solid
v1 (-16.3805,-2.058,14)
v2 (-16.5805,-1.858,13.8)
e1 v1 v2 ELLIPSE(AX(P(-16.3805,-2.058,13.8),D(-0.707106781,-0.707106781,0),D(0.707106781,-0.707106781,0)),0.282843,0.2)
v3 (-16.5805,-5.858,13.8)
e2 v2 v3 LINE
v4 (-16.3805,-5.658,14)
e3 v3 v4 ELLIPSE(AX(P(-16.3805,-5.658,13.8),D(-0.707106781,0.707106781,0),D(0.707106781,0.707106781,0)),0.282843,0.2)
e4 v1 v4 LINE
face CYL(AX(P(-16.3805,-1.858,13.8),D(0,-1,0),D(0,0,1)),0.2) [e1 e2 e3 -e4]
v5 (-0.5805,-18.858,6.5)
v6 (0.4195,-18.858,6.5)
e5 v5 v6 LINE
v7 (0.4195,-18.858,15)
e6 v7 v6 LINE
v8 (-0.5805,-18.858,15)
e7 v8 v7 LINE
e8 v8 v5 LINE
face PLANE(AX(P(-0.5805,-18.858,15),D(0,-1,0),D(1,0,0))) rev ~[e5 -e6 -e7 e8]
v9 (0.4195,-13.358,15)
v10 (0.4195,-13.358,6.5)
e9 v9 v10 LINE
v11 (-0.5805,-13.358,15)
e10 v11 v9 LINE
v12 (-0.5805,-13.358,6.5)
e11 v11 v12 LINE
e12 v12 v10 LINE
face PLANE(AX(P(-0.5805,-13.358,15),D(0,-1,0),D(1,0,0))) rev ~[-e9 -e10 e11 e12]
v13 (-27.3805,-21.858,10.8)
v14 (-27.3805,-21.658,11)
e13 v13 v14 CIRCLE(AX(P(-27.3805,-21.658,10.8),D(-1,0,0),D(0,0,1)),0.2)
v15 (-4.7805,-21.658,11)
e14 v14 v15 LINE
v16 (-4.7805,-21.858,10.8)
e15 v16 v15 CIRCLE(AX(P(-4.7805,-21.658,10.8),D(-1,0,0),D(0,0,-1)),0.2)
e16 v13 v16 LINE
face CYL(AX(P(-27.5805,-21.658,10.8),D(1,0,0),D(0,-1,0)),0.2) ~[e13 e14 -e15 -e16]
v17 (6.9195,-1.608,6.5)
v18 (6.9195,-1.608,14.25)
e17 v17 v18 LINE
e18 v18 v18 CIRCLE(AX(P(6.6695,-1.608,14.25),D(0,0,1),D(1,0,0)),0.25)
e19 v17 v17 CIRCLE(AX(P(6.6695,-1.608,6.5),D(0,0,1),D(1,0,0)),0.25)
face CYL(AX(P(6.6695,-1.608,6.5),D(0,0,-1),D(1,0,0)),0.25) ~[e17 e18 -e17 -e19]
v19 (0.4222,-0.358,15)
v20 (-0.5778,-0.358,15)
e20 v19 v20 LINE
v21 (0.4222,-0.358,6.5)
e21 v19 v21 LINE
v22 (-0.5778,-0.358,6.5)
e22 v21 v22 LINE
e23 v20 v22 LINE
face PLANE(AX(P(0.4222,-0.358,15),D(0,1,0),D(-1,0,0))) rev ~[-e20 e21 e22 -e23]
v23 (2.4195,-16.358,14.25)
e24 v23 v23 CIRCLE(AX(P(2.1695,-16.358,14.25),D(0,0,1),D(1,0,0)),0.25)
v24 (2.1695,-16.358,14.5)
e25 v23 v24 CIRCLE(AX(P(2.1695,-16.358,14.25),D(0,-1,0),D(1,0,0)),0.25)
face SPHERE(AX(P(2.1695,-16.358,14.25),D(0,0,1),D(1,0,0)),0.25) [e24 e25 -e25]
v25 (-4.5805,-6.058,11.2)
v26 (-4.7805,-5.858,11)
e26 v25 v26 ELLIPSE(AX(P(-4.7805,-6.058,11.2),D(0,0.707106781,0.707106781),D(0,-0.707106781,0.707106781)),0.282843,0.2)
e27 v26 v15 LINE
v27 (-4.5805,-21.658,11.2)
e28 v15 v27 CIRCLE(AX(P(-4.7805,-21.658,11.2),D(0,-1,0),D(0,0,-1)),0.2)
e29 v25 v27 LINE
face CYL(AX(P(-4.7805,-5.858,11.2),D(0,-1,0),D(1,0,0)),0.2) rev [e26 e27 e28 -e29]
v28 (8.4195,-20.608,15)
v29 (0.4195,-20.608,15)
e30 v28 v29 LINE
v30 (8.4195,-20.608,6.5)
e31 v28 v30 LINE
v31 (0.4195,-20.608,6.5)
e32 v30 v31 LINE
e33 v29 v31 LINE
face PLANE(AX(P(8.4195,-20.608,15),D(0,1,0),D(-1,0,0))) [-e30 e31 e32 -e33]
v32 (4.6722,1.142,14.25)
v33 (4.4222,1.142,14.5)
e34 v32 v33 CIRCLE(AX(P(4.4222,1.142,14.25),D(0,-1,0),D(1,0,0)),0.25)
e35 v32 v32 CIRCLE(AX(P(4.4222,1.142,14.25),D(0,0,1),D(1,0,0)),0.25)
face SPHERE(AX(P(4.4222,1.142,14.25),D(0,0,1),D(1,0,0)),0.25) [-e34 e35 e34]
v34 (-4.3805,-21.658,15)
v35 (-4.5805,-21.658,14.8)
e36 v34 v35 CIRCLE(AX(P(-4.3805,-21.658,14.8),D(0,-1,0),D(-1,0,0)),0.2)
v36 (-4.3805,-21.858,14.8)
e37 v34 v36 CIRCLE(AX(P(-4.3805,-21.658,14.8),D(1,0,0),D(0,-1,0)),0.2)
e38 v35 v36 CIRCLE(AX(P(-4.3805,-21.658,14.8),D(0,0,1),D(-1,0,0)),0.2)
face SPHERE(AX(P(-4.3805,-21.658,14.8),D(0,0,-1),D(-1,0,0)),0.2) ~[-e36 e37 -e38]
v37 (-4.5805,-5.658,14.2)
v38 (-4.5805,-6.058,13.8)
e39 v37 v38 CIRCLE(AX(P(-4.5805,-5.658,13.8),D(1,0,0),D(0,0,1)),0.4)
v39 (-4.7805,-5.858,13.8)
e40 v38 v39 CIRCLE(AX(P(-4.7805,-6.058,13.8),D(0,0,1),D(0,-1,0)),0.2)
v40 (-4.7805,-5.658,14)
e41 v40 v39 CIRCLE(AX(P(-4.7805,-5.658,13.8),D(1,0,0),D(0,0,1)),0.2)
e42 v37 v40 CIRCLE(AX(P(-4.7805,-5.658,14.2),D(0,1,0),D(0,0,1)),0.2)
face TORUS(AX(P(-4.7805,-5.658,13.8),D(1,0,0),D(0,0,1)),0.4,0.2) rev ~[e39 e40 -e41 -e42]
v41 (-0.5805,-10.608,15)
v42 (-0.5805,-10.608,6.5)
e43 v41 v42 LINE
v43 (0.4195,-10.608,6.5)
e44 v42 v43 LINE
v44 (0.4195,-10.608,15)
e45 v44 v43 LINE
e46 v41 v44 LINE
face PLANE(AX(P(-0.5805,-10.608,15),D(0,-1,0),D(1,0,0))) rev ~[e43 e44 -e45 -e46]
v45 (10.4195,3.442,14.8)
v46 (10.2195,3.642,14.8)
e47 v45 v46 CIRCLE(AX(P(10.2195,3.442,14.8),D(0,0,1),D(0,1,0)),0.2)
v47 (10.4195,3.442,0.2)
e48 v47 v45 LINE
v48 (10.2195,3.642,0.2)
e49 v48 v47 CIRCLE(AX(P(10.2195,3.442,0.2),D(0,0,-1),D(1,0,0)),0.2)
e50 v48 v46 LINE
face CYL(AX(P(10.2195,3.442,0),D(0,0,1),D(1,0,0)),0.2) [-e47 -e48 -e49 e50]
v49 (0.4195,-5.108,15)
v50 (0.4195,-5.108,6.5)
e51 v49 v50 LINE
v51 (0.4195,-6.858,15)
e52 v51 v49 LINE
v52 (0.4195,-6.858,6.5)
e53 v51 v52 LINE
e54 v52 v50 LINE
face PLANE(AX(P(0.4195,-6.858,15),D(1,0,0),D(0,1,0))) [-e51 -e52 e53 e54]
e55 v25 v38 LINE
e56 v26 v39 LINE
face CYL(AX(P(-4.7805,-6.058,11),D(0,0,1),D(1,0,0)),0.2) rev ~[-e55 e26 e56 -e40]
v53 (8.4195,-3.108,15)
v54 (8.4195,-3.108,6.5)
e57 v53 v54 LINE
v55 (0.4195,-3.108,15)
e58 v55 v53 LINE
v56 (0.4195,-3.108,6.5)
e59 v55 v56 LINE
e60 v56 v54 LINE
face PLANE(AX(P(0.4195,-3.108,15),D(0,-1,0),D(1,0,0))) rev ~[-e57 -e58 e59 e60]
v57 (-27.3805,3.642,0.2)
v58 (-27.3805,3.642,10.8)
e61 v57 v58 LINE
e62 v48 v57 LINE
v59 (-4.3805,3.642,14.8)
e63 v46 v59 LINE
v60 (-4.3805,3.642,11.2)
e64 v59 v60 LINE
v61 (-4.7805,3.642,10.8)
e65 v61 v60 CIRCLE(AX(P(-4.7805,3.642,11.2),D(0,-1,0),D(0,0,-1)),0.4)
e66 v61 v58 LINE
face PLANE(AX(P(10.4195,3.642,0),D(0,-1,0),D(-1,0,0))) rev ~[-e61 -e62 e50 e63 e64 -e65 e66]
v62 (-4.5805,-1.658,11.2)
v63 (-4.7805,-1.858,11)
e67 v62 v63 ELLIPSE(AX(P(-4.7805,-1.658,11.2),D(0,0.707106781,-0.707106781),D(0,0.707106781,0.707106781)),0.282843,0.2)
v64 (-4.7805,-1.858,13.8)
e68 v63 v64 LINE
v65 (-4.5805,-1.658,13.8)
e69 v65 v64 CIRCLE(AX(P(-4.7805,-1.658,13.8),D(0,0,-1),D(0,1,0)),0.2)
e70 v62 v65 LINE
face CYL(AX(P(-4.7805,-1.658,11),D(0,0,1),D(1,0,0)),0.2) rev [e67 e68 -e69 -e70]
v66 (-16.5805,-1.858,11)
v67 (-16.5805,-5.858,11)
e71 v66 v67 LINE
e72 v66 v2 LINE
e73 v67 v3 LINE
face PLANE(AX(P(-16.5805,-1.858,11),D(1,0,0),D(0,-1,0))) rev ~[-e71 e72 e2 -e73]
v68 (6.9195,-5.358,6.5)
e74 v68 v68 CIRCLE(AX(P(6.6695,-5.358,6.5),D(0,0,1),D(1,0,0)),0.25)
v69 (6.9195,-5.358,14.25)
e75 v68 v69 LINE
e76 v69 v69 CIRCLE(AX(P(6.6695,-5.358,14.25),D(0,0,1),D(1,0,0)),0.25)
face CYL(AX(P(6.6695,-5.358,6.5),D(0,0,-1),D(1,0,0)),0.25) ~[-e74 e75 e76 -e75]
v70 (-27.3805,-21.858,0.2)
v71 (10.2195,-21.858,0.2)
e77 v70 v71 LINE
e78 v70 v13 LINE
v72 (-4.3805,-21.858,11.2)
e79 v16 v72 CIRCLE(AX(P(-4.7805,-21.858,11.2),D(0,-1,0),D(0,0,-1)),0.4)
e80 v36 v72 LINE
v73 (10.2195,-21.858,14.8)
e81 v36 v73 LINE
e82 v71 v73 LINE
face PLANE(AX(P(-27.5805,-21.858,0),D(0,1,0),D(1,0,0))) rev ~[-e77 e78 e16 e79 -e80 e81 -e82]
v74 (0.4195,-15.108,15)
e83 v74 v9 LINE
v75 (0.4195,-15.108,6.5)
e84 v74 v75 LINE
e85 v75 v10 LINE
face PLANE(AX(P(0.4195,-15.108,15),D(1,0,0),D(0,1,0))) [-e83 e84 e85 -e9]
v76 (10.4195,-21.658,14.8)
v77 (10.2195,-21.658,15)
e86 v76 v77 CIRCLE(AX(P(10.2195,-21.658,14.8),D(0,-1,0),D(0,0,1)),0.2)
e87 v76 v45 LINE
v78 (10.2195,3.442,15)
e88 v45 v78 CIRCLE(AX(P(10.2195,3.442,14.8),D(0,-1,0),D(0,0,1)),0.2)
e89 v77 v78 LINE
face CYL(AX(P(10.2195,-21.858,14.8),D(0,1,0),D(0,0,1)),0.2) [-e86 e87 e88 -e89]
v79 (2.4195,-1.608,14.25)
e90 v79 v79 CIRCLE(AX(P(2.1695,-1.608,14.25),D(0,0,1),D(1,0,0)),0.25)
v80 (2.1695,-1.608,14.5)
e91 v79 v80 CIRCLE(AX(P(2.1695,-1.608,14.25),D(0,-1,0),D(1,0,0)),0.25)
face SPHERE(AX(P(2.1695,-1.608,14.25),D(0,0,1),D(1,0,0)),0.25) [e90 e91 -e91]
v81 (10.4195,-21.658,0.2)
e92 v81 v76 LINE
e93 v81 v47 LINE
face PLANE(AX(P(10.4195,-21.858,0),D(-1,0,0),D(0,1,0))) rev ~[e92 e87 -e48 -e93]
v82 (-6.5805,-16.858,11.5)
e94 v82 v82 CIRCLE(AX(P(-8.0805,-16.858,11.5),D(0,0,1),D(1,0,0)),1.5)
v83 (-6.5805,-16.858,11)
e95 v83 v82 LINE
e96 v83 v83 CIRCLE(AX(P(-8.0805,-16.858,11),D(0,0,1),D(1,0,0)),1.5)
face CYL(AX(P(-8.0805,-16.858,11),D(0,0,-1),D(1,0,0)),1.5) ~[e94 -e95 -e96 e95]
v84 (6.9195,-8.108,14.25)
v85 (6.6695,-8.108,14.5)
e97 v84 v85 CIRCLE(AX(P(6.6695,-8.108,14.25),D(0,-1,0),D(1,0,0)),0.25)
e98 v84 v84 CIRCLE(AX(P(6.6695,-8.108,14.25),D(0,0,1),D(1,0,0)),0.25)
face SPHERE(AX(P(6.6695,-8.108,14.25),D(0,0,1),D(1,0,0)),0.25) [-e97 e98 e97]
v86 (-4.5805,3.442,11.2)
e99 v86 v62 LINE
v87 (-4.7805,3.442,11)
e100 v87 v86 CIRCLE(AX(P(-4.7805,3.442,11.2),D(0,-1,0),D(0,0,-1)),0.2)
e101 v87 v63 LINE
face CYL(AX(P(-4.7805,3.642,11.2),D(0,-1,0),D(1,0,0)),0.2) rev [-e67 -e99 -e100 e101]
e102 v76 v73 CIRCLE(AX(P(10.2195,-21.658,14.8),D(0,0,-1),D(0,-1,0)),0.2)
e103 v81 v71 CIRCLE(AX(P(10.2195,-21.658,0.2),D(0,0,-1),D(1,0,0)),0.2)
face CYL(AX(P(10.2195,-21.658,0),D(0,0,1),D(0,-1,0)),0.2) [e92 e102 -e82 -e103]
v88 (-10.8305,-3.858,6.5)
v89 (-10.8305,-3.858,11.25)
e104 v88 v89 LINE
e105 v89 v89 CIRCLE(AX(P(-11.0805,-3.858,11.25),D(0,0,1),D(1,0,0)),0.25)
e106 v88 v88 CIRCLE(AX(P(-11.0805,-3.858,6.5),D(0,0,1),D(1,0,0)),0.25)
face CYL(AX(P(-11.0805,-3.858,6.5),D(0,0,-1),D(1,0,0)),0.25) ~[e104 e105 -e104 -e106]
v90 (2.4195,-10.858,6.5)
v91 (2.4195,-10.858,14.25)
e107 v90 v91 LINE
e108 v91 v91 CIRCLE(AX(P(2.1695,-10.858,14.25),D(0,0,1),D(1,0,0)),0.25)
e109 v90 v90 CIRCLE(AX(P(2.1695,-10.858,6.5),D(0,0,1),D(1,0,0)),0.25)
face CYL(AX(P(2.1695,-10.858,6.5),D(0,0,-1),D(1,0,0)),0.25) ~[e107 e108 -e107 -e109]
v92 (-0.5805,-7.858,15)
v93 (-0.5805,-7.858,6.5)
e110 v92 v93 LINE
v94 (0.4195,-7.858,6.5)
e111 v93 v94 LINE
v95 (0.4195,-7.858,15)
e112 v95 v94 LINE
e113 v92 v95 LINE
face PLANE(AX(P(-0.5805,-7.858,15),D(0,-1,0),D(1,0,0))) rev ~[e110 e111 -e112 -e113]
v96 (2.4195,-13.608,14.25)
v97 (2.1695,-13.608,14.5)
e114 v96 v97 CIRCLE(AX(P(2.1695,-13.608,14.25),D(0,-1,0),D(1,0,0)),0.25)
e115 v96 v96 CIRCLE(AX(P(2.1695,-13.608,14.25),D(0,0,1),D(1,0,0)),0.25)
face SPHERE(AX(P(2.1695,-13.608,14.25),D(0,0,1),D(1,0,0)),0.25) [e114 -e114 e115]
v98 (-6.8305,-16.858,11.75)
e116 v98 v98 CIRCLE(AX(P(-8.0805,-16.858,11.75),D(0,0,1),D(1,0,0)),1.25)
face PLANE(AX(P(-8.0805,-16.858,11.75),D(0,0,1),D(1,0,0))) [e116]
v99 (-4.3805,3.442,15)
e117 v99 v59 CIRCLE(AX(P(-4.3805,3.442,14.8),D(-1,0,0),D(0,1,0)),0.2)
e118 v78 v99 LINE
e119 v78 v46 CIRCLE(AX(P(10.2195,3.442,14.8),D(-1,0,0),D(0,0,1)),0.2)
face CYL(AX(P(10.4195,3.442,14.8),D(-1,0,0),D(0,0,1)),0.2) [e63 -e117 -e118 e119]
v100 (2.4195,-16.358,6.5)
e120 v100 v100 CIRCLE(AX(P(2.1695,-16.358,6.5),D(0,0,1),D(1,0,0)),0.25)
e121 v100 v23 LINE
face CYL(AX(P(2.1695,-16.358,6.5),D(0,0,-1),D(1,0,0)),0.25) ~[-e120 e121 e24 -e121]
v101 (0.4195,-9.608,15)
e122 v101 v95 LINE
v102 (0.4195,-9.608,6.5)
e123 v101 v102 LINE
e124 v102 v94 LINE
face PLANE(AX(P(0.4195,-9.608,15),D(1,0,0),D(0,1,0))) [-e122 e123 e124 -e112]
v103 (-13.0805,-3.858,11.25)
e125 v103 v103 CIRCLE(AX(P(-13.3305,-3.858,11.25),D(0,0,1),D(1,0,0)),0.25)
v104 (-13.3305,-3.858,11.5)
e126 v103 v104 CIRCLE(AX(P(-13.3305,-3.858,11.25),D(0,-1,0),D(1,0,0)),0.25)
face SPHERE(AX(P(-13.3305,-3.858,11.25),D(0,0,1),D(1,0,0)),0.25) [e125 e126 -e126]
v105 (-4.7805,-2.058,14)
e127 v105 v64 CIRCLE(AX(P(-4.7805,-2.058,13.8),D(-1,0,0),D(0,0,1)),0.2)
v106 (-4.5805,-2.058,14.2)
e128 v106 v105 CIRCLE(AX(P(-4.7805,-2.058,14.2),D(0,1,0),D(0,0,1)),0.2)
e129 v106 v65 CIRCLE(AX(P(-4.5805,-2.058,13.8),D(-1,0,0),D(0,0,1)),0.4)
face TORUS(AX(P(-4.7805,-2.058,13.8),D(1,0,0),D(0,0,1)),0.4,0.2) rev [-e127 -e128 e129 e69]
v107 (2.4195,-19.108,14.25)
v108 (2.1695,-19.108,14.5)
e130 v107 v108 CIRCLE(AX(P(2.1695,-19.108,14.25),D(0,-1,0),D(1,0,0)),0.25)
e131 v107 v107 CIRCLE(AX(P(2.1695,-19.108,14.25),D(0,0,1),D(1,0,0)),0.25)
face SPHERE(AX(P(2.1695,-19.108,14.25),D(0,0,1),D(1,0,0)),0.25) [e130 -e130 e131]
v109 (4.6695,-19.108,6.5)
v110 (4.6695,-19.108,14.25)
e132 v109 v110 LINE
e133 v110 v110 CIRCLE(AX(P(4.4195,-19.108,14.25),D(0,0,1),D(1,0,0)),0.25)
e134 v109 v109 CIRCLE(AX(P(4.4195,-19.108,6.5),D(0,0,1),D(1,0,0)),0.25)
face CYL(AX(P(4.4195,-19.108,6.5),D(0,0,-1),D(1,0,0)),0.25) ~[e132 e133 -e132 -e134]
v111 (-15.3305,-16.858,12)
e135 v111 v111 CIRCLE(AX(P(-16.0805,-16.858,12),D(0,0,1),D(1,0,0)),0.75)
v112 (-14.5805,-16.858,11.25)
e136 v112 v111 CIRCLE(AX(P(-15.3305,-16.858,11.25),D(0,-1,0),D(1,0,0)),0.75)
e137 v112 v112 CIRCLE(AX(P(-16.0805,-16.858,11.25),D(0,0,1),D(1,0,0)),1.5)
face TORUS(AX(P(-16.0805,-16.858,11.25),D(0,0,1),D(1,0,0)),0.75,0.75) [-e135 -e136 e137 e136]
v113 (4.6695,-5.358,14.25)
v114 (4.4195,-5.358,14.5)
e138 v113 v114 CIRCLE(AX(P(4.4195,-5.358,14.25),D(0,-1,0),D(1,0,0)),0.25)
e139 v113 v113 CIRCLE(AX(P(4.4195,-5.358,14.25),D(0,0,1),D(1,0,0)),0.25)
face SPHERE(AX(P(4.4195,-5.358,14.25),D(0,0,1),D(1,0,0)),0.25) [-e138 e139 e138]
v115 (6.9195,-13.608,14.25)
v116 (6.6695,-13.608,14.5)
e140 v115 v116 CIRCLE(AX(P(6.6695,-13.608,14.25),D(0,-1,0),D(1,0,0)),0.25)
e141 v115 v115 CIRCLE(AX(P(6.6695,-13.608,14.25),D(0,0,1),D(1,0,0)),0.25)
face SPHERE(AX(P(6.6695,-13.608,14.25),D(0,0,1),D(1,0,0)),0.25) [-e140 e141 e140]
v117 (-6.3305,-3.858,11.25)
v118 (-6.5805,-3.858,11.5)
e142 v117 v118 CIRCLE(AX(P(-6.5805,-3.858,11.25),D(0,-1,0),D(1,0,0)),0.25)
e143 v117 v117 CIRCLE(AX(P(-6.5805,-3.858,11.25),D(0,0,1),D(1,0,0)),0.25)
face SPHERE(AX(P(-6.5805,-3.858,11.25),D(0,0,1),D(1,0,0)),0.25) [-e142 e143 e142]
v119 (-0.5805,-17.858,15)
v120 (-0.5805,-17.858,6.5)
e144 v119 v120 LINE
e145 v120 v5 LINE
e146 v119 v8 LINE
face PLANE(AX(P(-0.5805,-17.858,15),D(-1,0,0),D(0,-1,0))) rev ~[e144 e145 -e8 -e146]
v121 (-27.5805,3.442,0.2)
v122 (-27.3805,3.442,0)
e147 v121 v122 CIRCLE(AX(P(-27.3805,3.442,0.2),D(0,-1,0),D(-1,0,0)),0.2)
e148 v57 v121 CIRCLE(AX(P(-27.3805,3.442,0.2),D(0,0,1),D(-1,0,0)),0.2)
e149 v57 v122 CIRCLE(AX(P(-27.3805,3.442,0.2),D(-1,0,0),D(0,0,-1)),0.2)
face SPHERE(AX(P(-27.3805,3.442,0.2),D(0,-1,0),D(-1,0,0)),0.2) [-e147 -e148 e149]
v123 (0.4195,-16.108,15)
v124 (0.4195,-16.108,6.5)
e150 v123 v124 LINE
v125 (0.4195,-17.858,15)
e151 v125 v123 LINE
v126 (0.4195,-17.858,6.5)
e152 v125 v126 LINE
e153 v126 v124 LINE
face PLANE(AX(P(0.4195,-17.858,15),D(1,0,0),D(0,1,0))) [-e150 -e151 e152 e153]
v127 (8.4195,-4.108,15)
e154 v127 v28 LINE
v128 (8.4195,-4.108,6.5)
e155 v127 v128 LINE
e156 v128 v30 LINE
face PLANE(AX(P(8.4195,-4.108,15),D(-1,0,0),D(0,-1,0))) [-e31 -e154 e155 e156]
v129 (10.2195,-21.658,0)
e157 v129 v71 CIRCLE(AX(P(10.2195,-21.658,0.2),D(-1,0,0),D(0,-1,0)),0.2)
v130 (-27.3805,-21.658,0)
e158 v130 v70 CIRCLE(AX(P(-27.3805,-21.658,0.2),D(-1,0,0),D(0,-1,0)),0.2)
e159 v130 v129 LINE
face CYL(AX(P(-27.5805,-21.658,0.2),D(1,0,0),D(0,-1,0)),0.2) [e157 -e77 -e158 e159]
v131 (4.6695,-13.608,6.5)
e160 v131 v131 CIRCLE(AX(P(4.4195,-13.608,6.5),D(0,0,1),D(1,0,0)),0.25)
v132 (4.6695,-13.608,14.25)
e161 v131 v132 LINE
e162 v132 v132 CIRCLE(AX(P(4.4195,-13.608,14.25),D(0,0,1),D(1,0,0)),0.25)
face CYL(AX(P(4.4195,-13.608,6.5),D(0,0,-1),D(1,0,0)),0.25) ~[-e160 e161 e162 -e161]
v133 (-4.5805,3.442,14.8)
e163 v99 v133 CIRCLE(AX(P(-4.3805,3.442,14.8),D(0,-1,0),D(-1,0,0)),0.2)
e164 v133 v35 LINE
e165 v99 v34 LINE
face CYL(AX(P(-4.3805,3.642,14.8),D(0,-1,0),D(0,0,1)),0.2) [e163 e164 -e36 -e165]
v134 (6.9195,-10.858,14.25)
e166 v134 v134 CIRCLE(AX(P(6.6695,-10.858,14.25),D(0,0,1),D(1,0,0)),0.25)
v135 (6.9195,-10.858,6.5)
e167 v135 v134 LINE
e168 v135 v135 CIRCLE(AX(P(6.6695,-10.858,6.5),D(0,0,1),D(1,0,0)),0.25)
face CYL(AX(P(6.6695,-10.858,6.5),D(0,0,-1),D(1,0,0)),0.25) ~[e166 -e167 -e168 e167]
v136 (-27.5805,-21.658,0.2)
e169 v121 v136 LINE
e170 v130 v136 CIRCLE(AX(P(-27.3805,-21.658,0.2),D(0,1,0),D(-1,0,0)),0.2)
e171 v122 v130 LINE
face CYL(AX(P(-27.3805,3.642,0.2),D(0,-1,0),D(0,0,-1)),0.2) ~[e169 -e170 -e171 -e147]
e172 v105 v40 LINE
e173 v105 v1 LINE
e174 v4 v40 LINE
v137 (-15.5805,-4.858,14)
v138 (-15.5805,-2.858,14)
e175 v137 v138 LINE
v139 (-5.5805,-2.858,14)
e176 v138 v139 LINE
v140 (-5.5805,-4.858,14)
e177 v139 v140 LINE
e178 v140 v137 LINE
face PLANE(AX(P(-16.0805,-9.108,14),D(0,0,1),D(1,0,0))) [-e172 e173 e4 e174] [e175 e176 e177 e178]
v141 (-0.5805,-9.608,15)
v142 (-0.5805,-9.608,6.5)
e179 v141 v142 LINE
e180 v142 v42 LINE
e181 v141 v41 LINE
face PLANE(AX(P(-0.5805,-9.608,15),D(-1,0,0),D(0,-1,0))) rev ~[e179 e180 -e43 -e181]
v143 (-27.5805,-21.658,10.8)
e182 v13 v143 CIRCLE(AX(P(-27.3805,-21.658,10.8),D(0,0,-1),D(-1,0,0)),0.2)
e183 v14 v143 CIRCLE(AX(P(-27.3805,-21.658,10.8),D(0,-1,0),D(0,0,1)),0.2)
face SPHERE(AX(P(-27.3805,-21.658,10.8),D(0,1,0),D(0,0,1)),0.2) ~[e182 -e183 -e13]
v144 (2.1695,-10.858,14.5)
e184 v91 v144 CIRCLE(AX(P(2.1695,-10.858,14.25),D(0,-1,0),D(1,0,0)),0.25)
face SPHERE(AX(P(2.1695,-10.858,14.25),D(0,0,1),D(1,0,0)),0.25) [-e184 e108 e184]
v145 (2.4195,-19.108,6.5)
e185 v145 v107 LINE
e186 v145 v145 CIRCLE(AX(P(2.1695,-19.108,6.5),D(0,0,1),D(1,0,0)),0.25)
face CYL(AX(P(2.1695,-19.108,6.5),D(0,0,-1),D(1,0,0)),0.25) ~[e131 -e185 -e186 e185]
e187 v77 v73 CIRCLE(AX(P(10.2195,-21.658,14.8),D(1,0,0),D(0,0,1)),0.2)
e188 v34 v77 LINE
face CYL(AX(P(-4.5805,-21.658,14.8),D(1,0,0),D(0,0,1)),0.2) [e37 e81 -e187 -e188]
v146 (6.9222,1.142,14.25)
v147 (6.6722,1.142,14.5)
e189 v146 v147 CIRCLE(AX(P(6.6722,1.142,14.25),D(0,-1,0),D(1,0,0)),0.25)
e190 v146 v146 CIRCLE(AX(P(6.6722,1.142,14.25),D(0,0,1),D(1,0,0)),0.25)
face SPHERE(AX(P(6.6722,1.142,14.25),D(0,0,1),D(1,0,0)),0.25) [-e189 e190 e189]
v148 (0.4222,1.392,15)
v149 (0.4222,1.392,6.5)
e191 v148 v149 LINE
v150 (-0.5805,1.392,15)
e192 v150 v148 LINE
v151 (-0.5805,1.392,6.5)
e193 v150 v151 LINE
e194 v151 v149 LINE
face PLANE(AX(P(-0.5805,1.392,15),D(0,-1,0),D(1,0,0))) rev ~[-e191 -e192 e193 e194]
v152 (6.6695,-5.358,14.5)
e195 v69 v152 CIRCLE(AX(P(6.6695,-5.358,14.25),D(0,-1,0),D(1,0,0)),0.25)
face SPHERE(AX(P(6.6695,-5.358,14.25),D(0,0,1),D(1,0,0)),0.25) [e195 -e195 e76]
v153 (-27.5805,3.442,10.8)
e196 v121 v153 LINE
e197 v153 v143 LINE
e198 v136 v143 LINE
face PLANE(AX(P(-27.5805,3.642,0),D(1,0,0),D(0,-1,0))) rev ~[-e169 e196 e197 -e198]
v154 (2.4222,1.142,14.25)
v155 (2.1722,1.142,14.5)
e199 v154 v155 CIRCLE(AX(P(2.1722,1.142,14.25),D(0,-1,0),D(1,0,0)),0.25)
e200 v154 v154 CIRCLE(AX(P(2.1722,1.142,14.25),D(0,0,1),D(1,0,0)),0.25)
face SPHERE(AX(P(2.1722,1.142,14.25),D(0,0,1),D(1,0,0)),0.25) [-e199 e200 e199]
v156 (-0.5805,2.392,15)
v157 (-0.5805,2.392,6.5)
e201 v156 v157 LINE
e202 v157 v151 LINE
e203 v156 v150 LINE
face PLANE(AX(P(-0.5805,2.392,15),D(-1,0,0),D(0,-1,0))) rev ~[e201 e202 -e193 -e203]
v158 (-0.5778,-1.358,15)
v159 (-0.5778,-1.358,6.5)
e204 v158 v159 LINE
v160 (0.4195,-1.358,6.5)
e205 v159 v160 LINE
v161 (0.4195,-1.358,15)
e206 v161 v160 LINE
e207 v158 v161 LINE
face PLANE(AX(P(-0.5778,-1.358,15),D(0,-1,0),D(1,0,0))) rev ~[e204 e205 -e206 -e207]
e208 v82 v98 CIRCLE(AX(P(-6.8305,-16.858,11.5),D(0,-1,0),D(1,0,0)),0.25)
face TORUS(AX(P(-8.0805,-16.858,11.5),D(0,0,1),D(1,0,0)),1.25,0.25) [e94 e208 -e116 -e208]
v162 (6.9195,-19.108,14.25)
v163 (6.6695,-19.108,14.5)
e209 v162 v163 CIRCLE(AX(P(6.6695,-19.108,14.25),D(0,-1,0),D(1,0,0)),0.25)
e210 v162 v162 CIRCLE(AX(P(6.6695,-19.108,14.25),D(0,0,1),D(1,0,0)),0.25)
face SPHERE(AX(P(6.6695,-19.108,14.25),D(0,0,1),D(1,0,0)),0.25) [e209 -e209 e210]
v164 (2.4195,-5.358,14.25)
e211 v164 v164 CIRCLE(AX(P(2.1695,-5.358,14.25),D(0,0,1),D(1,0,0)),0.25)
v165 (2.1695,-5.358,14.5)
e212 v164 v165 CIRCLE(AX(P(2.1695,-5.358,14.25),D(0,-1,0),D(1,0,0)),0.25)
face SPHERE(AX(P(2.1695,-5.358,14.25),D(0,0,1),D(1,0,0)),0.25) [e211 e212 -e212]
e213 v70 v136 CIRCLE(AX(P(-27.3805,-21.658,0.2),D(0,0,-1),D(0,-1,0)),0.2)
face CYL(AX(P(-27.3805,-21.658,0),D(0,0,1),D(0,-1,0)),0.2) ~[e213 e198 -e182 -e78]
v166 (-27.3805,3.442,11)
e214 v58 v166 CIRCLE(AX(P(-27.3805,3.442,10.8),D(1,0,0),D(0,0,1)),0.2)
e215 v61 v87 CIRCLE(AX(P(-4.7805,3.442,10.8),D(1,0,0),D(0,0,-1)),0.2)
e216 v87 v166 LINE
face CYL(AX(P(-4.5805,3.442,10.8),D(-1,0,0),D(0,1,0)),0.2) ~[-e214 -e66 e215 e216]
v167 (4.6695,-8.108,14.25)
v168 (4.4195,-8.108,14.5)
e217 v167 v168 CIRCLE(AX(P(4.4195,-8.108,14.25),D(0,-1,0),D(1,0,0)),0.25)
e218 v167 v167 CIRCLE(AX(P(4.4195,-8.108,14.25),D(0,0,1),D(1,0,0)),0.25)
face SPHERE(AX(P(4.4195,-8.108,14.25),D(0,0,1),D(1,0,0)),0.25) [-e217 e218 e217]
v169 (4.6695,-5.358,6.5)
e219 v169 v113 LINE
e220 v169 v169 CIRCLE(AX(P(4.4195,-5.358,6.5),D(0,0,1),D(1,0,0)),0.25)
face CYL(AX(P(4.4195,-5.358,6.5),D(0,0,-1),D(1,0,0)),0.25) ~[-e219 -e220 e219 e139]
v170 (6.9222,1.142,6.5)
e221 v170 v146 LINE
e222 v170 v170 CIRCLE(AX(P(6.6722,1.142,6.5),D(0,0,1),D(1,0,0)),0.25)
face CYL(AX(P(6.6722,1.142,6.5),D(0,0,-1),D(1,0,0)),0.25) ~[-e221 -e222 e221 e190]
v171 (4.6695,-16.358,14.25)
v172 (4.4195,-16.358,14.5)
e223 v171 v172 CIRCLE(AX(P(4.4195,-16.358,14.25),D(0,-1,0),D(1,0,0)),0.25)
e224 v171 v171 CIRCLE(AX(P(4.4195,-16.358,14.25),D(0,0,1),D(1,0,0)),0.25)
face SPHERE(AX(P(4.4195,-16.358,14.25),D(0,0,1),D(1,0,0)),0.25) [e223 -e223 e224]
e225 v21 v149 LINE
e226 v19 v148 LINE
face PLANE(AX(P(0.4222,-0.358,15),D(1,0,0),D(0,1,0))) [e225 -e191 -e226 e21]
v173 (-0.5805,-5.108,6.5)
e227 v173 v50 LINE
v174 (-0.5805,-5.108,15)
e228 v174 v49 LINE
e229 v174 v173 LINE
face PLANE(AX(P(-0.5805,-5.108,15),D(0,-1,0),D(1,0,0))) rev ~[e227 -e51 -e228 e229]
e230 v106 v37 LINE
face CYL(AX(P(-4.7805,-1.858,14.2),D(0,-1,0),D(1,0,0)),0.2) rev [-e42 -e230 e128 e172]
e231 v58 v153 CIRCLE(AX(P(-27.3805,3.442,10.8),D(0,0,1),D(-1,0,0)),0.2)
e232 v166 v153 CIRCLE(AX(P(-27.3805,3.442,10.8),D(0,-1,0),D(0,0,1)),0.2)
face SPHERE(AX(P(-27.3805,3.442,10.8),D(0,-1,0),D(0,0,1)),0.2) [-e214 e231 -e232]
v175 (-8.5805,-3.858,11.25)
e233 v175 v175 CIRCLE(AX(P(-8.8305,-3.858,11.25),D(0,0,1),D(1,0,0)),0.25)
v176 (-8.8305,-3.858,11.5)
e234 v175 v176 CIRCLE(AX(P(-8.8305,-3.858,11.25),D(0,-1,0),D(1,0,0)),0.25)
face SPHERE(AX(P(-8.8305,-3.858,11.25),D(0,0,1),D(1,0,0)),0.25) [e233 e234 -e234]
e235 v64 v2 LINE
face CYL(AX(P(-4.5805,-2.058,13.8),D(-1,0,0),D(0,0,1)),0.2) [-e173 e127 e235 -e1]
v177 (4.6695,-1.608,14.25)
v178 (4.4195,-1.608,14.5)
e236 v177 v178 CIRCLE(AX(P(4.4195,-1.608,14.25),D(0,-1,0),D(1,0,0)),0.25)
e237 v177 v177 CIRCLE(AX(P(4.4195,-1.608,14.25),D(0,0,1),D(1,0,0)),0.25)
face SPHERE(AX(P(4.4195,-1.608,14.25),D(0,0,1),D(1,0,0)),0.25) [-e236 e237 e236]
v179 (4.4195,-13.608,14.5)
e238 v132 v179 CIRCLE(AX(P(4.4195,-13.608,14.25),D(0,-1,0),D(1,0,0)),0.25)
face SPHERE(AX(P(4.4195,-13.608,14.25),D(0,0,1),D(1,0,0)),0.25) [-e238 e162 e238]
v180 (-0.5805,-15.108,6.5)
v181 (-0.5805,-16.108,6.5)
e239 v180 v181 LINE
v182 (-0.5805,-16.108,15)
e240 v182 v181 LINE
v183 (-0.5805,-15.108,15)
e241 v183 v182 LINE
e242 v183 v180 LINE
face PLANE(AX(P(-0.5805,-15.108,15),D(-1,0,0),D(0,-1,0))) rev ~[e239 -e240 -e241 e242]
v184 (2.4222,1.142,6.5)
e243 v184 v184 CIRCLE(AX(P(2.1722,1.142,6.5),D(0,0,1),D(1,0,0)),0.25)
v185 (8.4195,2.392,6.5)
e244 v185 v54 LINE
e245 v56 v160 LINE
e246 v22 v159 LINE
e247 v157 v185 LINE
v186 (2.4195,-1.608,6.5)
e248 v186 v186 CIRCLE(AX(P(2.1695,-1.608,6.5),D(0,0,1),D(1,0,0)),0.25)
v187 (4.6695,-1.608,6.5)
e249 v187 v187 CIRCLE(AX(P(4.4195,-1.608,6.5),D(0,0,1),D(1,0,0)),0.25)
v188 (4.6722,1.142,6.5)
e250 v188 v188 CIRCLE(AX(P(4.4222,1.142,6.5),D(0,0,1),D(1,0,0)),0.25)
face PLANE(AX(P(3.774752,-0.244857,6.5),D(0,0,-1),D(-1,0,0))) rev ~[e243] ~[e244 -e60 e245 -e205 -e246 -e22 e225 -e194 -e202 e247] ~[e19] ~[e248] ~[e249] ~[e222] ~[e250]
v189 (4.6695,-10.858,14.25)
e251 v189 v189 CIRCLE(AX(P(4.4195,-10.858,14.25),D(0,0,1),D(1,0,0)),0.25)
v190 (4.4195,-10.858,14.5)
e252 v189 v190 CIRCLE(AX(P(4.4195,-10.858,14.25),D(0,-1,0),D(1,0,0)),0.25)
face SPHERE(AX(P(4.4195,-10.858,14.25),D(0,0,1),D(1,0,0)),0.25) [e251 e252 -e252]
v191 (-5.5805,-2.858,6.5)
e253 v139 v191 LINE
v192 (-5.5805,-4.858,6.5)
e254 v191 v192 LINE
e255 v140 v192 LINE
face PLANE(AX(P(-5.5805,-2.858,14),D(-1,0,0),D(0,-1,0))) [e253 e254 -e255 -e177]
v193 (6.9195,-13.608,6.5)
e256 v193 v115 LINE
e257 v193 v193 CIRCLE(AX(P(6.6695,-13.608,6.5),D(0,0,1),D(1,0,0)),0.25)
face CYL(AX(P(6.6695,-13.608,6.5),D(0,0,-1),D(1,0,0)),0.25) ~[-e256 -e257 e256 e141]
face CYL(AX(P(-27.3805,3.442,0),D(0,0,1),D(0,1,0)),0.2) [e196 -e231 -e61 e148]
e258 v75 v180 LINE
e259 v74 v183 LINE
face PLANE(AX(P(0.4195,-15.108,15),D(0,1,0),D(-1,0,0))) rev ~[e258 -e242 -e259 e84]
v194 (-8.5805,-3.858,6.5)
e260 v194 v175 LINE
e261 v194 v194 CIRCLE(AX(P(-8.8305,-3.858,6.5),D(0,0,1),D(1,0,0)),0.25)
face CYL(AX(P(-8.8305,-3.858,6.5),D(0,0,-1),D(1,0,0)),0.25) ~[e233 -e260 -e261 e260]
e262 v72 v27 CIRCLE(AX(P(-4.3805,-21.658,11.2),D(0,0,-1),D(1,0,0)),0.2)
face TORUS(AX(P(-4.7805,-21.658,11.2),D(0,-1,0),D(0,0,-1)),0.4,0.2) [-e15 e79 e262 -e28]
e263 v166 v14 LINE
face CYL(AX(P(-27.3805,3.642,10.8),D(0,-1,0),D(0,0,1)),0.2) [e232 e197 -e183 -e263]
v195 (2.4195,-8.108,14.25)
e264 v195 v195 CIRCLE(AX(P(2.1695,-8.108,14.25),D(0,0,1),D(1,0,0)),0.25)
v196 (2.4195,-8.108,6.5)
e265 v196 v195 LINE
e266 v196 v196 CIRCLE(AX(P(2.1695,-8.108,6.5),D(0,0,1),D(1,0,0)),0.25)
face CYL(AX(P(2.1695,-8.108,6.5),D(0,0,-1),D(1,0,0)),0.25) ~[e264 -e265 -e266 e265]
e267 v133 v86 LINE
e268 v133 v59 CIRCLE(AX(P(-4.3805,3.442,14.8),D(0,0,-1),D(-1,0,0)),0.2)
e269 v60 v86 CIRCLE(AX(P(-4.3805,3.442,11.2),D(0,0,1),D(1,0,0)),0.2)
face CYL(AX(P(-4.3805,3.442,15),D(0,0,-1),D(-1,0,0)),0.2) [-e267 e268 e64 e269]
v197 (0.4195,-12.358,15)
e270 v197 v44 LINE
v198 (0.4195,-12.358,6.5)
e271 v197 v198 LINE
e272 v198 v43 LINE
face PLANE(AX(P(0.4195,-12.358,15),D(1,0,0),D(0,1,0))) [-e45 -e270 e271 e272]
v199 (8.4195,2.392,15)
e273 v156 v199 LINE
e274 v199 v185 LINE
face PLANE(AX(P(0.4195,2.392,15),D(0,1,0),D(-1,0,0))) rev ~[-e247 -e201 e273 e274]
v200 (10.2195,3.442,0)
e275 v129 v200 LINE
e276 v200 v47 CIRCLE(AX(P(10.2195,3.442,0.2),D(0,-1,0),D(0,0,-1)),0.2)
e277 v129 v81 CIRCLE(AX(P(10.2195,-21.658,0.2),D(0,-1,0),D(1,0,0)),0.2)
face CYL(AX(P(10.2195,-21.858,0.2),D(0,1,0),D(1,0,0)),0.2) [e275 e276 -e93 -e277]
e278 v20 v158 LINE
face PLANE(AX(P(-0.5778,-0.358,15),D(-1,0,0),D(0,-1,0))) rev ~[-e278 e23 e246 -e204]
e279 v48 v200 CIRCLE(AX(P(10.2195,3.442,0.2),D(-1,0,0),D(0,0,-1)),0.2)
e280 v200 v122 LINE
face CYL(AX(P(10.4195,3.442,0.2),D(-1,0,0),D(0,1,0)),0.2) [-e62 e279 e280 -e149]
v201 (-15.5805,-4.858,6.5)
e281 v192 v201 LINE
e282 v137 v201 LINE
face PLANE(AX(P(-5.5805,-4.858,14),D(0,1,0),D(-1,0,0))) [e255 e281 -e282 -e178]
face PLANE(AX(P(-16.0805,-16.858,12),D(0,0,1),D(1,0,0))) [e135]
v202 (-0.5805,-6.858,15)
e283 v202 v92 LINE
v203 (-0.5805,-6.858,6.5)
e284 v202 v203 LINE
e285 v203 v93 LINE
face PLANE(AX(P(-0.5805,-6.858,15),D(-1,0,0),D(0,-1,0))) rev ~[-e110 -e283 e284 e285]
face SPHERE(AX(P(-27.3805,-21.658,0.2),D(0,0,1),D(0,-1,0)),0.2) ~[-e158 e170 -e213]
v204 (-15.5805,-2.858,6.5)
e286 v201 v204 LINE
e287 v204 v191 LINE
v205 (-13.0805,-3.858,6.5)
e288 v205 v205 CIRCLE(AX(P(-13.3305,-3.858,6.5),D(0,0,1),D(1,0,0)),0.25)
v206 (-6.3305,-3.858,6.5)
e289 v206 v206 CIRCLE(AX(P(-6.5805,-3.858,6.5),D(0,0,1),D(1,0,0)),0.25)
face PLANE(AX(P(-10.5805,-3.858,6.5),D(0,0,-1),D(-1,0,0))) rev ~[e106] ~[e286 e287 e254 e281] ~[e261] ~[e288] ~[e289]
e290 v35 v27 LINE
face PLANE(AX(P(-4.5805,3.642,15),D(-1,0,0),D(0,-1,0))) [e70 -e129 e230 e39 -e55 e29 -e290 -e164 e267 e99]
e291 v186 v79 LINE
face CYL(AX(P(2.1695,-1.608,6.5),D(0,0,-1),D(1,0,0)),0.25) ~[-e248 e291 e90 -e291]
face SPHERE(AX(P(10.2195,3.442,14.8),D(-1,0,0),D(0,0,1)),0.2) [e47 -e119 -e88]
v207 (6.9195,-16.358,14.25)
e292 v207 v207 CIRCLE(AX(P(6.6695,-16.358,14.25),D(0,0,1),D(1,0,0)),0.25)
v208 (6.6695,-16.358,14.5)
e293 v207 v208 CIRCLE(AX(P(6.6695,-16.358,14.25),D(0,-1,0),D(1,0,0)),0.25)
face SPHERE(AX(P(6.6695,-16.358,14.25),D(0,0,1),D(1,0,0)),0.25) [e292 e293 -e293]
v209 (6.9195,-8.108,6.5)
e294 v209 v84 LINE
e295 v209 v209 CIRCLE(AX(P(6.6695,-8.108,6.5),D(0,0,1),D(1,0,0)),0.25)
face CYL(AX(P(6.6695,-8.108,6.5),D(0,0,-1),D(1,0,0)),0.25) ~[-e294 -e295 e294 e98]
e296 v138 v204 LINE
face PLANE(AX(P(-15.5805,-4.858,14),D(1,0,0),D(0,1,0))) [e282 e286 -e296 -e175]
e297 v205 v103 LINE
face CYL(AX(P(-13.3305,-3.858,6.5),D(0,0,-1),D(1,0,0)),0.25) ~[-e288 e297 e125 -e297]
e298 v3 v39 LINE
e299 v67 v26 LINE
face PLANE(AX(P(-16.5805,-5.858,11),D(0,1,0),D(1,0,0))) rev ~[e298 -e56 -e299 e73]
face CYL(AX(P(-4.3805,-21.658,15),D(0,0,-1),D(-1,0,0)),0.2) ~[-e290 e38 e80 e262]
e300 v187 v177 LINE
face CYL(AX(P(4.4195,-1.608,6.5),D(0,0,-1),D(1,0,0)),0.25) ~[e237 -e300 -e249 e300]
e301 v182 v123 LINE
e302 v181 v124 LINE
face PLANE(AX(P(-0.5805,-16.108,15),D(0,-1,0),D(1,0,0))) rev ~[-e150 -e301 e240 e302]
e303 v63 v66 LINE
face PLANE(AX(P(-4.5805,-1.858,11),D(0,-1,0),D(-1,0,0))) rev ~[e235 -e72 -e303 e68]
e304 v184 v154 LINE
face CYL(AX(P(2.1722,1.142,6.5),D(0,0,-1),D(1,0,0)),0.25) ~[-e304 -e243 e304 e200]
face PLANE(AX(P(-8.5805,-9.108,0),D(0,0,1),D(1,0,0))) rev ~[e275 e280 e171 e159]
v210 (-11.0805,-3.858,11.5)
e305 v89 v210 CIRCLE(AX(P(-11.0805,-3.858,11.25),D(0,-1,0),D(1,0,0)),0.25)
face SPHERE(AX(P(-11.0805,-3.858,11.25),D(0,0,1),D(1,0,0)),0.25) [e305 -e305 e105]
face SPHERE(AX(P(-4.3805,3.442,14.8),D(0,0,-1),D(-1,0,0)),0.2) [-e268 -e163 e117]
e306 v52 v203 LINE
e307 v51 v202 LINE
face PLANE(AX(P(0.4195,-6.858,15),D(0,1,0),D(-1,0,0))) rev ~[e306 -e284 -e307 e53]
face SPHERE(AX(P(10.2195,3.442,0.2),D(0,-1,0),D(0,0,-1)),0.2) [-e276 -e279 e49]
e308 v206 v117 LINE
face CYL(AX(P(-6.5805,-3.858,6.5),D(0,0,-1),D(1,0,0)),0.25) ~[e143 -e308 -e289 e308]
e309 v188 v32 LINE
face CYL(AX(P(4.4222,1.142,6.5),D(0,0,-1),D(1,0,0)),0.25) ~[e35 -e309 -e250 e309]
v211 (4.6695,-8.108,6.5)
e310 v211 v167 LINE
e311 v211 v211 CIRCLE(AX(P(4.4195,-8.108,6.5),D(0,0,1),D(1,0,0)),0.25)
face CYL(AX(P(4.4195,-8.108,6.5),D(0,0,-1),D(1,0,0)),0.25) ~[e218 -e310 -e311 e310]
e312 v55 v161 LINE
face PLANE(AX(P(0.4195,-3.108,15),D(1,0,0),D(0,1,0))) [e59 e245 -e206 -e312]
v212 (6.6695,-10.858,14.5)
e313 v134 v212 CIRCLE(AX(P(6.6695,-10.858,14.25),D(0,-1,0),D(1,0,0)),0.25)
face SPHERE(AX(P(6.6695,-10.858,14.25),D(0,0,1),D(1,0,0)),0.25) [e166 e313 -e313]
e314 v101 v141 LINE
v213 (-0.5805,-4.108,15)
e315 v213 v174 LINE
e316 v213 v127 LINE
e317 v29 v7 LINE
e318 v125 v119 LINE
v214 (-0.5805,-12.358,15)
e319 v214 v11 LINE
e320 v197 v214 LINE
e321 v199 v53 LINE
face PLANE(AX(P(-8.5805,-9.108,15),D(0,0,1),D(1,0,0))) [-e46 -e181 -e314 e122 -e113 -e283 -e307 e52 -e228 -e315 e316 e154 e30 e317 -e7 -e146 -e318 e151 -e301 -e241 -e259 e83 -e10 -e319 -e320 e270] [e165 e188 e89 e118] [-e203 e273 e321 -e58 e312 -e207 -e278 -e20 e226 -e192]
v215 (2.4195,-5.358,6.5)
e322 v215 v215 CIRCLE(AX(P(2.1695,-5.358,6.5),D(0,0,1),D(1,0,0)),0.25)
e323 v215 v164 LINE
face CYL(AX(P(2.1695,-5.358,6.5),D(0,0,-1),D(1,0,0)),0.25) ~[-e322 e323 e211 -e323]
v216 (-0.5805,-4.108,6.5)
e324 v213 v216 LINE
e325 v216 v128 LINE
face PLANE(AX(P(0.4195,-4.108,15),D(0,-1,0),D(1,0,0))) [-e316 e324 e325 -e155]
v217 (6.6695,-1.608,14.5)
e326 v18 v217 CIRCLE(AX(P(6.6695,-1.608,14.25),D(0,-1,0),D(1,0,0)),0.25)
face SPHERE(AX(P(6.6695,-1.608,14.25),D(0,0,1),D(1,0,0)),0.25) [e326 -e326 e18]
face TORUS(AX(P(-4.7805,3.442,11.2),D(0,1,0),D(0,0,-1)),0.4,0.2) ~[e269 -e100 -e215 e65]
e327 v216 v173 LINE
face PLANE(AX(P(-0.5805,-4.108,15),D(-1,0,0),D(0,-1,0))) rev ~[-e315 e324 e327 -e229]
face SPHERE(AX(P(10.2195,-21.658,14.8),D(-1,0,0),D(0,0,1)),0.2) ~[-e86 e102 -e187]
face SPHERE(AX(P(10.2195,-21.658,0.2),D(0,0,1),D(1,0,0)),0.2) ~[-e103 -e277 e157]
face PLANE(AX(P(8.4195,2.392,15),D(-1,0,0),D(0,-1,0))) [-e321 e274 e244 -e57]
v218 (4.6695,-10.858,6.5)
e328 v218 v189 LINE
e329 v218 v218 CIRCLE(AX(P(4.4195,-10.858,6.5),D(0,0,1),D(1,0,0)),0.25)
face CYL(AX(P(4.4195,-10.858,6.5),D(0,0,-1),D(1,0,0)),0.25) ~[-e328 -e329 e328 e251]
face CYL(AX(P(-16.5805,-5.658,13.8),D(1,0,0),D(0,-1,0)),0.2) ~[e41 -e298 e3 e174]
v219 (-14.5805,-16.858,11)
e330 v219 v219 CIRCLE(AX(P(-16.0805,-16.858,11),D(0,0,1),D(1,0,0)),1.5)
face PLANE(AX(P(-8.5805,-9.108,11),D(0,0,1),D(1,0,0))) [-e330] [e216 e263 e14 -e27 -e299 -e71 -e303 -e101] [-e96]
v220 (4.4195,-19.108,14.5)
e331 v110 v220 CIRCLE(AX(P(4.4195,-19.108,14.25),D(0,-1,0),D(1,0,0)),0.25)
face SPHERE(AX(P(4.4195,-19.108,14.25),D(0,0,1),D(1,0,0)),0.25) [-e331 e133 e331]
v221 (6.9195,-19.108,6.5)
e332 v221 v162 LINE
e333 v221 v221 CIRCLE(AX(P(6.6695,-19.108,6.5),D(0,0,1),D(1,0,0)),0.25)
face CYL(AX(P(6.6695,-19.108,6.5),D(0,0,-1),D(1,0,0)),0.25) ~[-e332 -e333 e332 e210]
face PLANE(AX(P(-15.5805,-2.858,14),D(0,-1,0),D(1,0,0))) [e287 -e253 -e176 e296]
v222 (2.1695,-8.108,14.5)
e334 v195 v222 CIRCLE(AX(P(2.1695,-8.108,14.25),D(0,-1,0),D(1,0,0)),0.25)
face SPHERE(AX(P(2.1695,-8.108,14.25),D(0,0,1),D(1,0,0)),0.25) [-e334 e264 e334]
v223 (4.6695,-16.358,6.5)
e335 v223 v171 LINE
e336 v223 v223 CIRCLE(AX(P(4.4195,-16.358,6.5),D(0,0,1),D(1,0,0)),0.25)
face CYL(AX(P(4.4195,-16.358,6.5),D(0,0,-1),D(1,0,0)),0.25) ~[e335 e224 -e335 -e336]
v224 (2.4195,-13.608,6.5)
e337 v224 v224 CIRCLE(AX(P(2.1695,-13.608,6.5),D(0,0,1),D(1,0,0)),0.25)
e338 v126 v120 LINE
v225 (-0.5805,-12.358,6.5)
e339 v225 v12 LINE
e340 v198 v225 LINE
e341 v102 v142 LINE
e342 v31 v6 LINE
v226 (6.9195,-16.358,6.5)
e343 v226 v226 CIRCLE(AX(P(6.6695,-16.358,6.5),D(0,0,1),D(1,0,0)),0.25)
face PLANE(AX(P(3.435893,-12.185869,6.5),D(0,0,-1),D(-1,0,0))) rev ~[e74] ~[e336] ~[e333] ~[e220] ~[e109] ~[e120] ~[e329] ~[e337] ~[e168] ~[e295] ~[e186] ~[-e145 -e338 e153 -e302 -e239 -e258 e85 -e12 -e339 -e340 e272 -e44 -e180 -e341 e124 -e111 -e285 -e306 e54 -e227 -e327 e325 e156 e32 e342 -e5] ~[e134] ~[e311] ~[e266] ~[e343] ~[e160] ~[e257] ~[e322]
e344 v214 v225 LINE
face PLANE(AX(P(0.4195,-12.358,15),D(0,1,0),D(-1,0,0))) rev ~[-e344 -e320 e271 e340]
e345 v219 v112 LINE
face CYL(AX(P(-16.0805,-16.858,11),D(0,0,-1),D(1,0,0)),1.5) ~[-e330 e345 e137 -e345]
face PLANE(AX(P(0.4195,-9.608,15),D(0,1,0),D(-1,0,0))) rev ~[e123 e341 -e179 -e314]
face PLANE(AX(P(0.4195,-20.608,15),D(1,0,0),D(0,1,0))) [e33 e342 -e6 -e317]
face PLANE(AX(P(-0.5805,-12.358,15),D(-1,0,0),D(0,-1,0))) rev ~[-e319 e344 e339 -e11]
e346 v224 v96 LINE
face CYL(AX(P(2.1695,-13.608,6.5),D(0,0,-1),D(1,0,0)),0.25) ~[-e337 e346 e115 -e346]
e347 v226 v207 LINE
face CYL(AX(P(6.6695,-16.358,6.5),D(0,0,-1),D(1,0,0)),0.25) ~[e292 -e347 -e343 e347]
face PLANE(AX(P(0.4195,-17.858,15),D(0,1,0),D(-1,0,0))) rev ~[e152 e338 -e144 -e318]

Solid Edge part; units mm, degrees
sketch "Sketch1" plane through (0, 0, 0) normal (0, 0, 1) x (1, 0, 0)
  line L0 (-27.5805, -21.858) -> (10.4195, -21.858)
  line L1 (10.4195, -21.858) -> (10.4195, 3.642)
  line L2 (10.4195, 3.642) -> (-27.5805, 3.642)
  line L3 (-27.5805, 3.642) -> (-27.5805, -21.858)
  dimension "D1" = 38
  dimension "D2" = 25.5
extrude "Protrusion1" add sketch "Sketch1" along normal blind 15
sketch "Sketch2" plane through (-8.5805, -9.108, 15) normal (0, 0, 1) x (1, 0, 0)
  line L0 (4, 12.75) -> (4, -12.75)
  dimension "D1" = 23
extrude "Extrusionsausschnitt_1" cut sketch "Sketch2" against normal blind 4 material side at (-4.6305, -9.108, 15)
sketch "Sketch3" plane through (-16.0805, -9.108, 11) normal (0, 0, 1) x (1, 0, 0)
  line L0 (11.5, 7.25) -> (-0.5, 7.25)
  line L1 (-0.5, 7.25) -> (-0.5, 3.25)
  line L2 (-0.5, 3.25) -> (11.5, 3.25)
  dimension "D1" = 5.5
  dimension "D2" = 16
  dimension "D3" = 12
extrude "Extrusionsausprägung_2" add sketch "Sketch3" along normal blind 3 material side at (-10.5805, -1.908, 11)
sketch "Sketch4" plane through (2.9195, -9.108, 15) normal (0, 0, 1) x (1, 0, 0)
  line L0 (-2.5, 11.5) -> (5.5, 11.5)
  line L1 (5.5, 11.5) -> (5.5, 6)
  line L2 (-2.5, 6) -> (5.5, 6)
  line L3 (-2.5, 6) -> (-2.5, 7.75)
  line L4 (-3.4973, 7.75) -> (-2.5, 7.75)
  line L5 (-3.4973, 8.75) -> (-3.4973, 7.75)
  line L6 (-2.4973, 8.75) -> (-3.4973, 8.75)
  line L7 (-2.4973, 8.75) -> (-2.4973, 10.5)
  line L8 (-3.5, 10.5) -> (-2.4973, 10.5)
  line L9 (-3.5, 11.5) -> (-3.5, 10.5)
  line L10 (-2.5, 11.5) -> (-3.5, 11.5)
  line L11 (5.5, 5) -> (5.5, -11.5)
  line L12 (5.5, -11.5) -> (-2.5, -11.5)
  line L13 (-2.5, -11.5) -> (-2.5, -9.75)
  line L14 (-3.5, -9.75) -> (-2.5, -9.75)
  line L15 (-3.5, -8.75) -> (-3.5, -9.75)
  line L16 (-2.5, -8.75) -> (-3.5, -8.75)
  line L17 (-2.5, -8.75) -> (-2.5, -7)
  line L18 (-3.5, -7) -> (-2.5, -7)
  line L19 (-3.5, -6) -> (-3.5, -7)
  line L20 (-2.5, -6) -> (-3.5, -6)
  line L21 (-2.5, -6) -> (-2.5, -4.25)
  line L22 (-3.5, -4.25) -> (-2.5, -4.25)
  line L23 (-3.5, -3.25) -> (-3.5, -4.25)
  line L24 (-2.5, -3.25) -> (-3.5, -3.25)
  line L25 (-2.5, -3.25) -> (-2.5, -1.5)
  line L26 (-3.5, -1.5) -> (-2.5, -1.5)
  line L27 (-3.5, -0.5) -> (-3.5, -1.5)
  line L28 (-2.5, -0.5) -> (-3.5, -0.5)
  line L29 (-2.5, -0.5) -> (-2.5, 1.25)
  line L30 (-3.5, 1.25) -> (-2.5, 1.25)
  line L31 (-3.5, 2.25) -> (-3.5, 1.25)
  line L32 (-2.5, 2.25) -> (-3.5, 2.25)
  line L33 (-2.5, 2.25) -> (-2.5, 4)
  line L34 (-3.5, 4) -> (-2.5, 4)
  line L35 (-3.5, 5) -> (-3.5, 4)
  line L36 (-2.5, 5) -> (-3.5, 5)
  line L37 (-2.5, 5) -> (5.5, 5)
  dimension "D1" = 1.25
  dimension "D2" = 2
  dimension "D3" = 1.25
  dimension "D4" = 5
  dimension "D5" = 1
  dimension "D6" = 1
  dimension "D7" = 1
  dimension "D8" = 1
  dimension "D9" = 1.75
  dimension "D10" = 1
  dimension "D11" = 1
  dimension "D12" = 1
  dimension "D13" = 1
  dimension "D14" = 1.75
  dimension "D15" = 1
  dimension "D16" = 1
  dimension "D17" = 1
  dimension "D18" = 1
  dimension "D19" = 1.75
  dimension "D20" = 1.75
  dimension "D21" = 1
  dimension "D22" = 1
  dimension "D23" = 1
  dimension "D24" = 1
  dimension "D25" = 1.75
  dimension "D26" = 1.75
  dimension "D27" = 1.75
  dimension "D28" = 1
extrude "Extrusionsausschnitt_2" cut sketch "Sketch4" against normal blind 8.5
sketch "Sketch5" plane through (-10.5805, -3.858, 14) normal (0, 0, 1) x (1, 0, 0)
  line L0 (-5, 1) -> (5, 1)
  line L1 (5, 1) -> (5, -1)
  line L2 (5, -1) -> (-5, -1)
  line L3 (-5, -1) -> (-5, 1)
  dimension "D1" = 1
  dimension "D2" = 1
  dimension "D3" = 1
  dimension "D4" = 1
extrude "Extrusionsausschnitt_3" cut sketch "Sketch5" against normal blind 7.5
sketch "Sketch6" plane through (-16.0805, -9.108, 11) normal (0, 0, 1) x (1, 0, 0)
  circle A0 centre (0, -7.75) radius 1.5
  dimension "D1" = 3
  dimension "D2" = 10
  dimension "D3" = 3.5
extrude "Extrusionsausprägung_3" add sketch "Sketch6" along normal blind 1
sketch "Sketch7" plane through (-16.0805, -9.108, 11) normal (0, 0, 1) x (1, 0, 0)
  circle A0 centre (8, -7.75) radius 1.5
  dimension "D1" = 3
  dimension "D2" = 5
  dimension "D3" = 3.5
extrude "Extrusionsausprägung_4" add sketch "Sketch7" along normal blind 0.75
fillet "Verrundung_1" radius 0.25 1 edges at (-9.5805, -16.858, 11.75)
fillet "Verrundung_1" radius 0.75 1 edges at (-17.5805, -16.858, 12)
sketch "Sketch8" plane through (-10.5805, -3.858, 6.5) normal (0, 0, 1) x (1, 0, 0)
  circle A0 centre (-2.75, 0) radius 0.25
  circle A1 centre (-0.5, 0) radius 0.25
  circle A2 centre (1.75, 0) radius 0.25
  circle A3 centre (4, 0) radius 0.25
  dimension "D1" = 0.5
  dimension "D2" = 0.5
  dimension "D3" = 0.5
  dimension "D4" = 1.75
  dimension "D5" = 1.75
  dimension "D6" = 1.75
  dimension "D7" = 0.75
  dimension "D8" = 0.75
  dimension "D9" = 0.75
  dimension "D10" = 0.75
  dimension "D11" = 0.75
extrude "Extrusionsausprägung_5" add sketch "Sketch8" along normal blind 5
fillet "Verrundung_2" radius 0.25 4 edges at (-13.5805, -3.858, 11.5) (-11.3305, -3.858, 11.5) (-9.0805, -3.858, 11.5) (-6.8305, -3.858, 11.5)
sketch "Sketch9" plane through (3.9195, -0.358, 6.5) normal (0, 0, 1) x (1, 0, 0)
  circle A0 centre (-1.7473, 1.5) radius 0.25
  circle A1 centre (0.5027, 1.5) radius 0.25
  circle A2 centre (2.7527, 1.5) radius 0.25
  circle A3 centre (-1.75, -1.25) radius 0.25
  circle A4 centre (0.5, -1.25) radius 0.25
  circle A5 centre (2.75, -1.25) radius 0.25
extrude "Extrusionsausprägung_6" add sketch "Sketch9" along normal blind 8
fillet "Verrundung_3" radius 0.25 6 edges at (1.9222, 1.142, 14.5) (4.1722, 1.142, 14.5) (6.4222, 1.142, 14.5) (1.9195, -1.608, 14.5) (4.1695, -1.608, 14.5) (6.4195, -1.608, 14.5)
sketch "Sketch10" plane through (3.9195, -12.358, 6.5) normal (0, 0, 1) x (1, 0, 0)
  circle A0 centre (0.5, 7) radius 0.25
  circle A1 centre (2.75, 7) radius 0.25
  circle A2 centre (-1.75, 4.25) radius 0.25
  circle A3 centre (0.5, 4.25) radius 0.25
  circle A4 centre (2.75, 4.25) radius 0.25
  circle A5 centre (-1.75, 1.5) radius 0.25
  circle A6 centre (0.5, 1.5) radius 0.25
  circle A7 centre (2.75, 1.5) radius 0.25
  circle A8 centre (-1.75, -1.25) radius 0.25
  circle A9 centre (0.5, -1.25) radius 0.25
  circle A10 centre (2.75, -1.25) radius 0.25
  circle A11 centre (-1.75, -4) radius 0.25
  circle A12 centre (0.5, -4) radius 0.25
  circle A13 centre (2.75, -4) radius 0.25
  circle A14 centre (-1.75, -6.75) radius 0.25
  circle A15 centre (0.5, -6.75) radius 0.25
  circle A16 centre (2.75, -6.75) radius 0.25
  circle A17 centre (-1.75, 7) radius 0.25
  dimension "D1" = 0.5
  dimension "D2" = 0.5
  dimension "D3" = 0.5
  dimension "D4" = 1.75
  dimension "D5" = 1.75
  dimension "D6" = 1.5
  dimension "D7" = 1
  dimension "D8" = 1
  dimension "D9" = 1
  dimension "D10" = 0.5
  dimension "D11" = 0.5
  dimension "D12" = 1.75
  dimension "D13" = 1.75
  dimension "D14" = 0.5
  dimension "D15" = 0.5
  dimension "D16" = 1.75
  dimension "D17" = 1.75
  dimension "D18" = 0.5
  dimension "D19" = 0.5
  dimension "D20" = 1.75
  dimension "D21" = 1.75
  dimension "D22" = 0.5
  dimension "D23" = 0.5
  dimension "D24" = 1.75
  dimension "D25" = 1.75
  dimension "D26" = 0.5
  dimension "D27" = 0.5
  dimension "D28" = 1.75
  dimension "D29" = 1.75
  dimension "D30" = 1
  dimension "D31" = 1
  dimension "D32" = 1
  dimension "D33" = 1
  dimension "D34" = 1
  dimension "D35" = 1
  dimension "D36" = 1
  dimension "D37" = 1
  dimension "D38" = 1
  dimension "D39" = 1
  dimension "D40" = 1
  dimension "D41" = 1
  dimension "D42" = 1
  dimension "D43" = 1
  dimension "D44" = 1
  dimension "D45" = 1.5
  dimension "D46" = 1.5
  dimension "D47" = 1.5
  dimension "D48" = 1.5
  dimension "D49" = 1.5
  dimension "D50" = 0.5
  dimension "D51" = 0.5
  dimension "D52" = 0.5
  dimension "D53" = 0.5
  dimension "D54" = 0.5
extrude "Extrusionsausprägung_8" add sketch "Sketch10" along normal blind 8
fillet "Verrundung_4" radius 0.25 18 edges at (1.9195, -5.358, 14.5) (4.1695, -5.358, 14.5) (6.4195, -5.358, 14.5) (6.4195, -8.108, 14.5) (4.1695, -8.108, 14.5) (1.9195, -8.108, 14.5) (1.9195, -10.858, 14.5) (4.1695, -10.858, 14.5) (6.4195, -10.858, 14.5) (6.4195, -13.608, 14.5) (4.1695, -13.608, 14.5) (1.9195, -13.608, 14.5) (1.9195, -16.358, 14.5) (4.1695, -16.358, 14.5) (6.4195, -16.358, 14.5) (6.4195, -19.108, 14.5) (4.1695, -19.108, 14.5) (1.9195, -19.108, 14.5)
fillet "Verrundung_7" radius 0.2 25 edges at (-27.5805, -9.108, 11) (-16.0805, -21.858, 11) (-27.5805, -21.858, 5.5) (-4.5805, -21.858, 13) (-4.5805, -13.858, 11) (-4.5805, -5.858, 12.5) (-10.5805, -5.858, 14) (-16.5805, -3.858, 14) (-10.5805, -1.858, 14) (-4.5805, -3.858, 14) (-4.5805, -1.858, 12.5) (-4.5805, 0.892, 11) (-16.0805, 3.642, 11) (-4.5805, 3.642, 13) (-4.5805, -9.108, 15) (2.9195, 3.642, 15) (2.9195, -21.858, 15) (10.4195, -9.108, 15) (10.4195, -21.858, 7.5) (10.4195, -9.108, 0) (-8.5805, -21.858, 0) (-27.5805, -9.108, 0) (-27.5805, 3.642, 5.5) (-8.5805, 3.642, 0) (10.4195, 3.642, 7.5)
properties material "ABS-Plastik, mittelfest"
